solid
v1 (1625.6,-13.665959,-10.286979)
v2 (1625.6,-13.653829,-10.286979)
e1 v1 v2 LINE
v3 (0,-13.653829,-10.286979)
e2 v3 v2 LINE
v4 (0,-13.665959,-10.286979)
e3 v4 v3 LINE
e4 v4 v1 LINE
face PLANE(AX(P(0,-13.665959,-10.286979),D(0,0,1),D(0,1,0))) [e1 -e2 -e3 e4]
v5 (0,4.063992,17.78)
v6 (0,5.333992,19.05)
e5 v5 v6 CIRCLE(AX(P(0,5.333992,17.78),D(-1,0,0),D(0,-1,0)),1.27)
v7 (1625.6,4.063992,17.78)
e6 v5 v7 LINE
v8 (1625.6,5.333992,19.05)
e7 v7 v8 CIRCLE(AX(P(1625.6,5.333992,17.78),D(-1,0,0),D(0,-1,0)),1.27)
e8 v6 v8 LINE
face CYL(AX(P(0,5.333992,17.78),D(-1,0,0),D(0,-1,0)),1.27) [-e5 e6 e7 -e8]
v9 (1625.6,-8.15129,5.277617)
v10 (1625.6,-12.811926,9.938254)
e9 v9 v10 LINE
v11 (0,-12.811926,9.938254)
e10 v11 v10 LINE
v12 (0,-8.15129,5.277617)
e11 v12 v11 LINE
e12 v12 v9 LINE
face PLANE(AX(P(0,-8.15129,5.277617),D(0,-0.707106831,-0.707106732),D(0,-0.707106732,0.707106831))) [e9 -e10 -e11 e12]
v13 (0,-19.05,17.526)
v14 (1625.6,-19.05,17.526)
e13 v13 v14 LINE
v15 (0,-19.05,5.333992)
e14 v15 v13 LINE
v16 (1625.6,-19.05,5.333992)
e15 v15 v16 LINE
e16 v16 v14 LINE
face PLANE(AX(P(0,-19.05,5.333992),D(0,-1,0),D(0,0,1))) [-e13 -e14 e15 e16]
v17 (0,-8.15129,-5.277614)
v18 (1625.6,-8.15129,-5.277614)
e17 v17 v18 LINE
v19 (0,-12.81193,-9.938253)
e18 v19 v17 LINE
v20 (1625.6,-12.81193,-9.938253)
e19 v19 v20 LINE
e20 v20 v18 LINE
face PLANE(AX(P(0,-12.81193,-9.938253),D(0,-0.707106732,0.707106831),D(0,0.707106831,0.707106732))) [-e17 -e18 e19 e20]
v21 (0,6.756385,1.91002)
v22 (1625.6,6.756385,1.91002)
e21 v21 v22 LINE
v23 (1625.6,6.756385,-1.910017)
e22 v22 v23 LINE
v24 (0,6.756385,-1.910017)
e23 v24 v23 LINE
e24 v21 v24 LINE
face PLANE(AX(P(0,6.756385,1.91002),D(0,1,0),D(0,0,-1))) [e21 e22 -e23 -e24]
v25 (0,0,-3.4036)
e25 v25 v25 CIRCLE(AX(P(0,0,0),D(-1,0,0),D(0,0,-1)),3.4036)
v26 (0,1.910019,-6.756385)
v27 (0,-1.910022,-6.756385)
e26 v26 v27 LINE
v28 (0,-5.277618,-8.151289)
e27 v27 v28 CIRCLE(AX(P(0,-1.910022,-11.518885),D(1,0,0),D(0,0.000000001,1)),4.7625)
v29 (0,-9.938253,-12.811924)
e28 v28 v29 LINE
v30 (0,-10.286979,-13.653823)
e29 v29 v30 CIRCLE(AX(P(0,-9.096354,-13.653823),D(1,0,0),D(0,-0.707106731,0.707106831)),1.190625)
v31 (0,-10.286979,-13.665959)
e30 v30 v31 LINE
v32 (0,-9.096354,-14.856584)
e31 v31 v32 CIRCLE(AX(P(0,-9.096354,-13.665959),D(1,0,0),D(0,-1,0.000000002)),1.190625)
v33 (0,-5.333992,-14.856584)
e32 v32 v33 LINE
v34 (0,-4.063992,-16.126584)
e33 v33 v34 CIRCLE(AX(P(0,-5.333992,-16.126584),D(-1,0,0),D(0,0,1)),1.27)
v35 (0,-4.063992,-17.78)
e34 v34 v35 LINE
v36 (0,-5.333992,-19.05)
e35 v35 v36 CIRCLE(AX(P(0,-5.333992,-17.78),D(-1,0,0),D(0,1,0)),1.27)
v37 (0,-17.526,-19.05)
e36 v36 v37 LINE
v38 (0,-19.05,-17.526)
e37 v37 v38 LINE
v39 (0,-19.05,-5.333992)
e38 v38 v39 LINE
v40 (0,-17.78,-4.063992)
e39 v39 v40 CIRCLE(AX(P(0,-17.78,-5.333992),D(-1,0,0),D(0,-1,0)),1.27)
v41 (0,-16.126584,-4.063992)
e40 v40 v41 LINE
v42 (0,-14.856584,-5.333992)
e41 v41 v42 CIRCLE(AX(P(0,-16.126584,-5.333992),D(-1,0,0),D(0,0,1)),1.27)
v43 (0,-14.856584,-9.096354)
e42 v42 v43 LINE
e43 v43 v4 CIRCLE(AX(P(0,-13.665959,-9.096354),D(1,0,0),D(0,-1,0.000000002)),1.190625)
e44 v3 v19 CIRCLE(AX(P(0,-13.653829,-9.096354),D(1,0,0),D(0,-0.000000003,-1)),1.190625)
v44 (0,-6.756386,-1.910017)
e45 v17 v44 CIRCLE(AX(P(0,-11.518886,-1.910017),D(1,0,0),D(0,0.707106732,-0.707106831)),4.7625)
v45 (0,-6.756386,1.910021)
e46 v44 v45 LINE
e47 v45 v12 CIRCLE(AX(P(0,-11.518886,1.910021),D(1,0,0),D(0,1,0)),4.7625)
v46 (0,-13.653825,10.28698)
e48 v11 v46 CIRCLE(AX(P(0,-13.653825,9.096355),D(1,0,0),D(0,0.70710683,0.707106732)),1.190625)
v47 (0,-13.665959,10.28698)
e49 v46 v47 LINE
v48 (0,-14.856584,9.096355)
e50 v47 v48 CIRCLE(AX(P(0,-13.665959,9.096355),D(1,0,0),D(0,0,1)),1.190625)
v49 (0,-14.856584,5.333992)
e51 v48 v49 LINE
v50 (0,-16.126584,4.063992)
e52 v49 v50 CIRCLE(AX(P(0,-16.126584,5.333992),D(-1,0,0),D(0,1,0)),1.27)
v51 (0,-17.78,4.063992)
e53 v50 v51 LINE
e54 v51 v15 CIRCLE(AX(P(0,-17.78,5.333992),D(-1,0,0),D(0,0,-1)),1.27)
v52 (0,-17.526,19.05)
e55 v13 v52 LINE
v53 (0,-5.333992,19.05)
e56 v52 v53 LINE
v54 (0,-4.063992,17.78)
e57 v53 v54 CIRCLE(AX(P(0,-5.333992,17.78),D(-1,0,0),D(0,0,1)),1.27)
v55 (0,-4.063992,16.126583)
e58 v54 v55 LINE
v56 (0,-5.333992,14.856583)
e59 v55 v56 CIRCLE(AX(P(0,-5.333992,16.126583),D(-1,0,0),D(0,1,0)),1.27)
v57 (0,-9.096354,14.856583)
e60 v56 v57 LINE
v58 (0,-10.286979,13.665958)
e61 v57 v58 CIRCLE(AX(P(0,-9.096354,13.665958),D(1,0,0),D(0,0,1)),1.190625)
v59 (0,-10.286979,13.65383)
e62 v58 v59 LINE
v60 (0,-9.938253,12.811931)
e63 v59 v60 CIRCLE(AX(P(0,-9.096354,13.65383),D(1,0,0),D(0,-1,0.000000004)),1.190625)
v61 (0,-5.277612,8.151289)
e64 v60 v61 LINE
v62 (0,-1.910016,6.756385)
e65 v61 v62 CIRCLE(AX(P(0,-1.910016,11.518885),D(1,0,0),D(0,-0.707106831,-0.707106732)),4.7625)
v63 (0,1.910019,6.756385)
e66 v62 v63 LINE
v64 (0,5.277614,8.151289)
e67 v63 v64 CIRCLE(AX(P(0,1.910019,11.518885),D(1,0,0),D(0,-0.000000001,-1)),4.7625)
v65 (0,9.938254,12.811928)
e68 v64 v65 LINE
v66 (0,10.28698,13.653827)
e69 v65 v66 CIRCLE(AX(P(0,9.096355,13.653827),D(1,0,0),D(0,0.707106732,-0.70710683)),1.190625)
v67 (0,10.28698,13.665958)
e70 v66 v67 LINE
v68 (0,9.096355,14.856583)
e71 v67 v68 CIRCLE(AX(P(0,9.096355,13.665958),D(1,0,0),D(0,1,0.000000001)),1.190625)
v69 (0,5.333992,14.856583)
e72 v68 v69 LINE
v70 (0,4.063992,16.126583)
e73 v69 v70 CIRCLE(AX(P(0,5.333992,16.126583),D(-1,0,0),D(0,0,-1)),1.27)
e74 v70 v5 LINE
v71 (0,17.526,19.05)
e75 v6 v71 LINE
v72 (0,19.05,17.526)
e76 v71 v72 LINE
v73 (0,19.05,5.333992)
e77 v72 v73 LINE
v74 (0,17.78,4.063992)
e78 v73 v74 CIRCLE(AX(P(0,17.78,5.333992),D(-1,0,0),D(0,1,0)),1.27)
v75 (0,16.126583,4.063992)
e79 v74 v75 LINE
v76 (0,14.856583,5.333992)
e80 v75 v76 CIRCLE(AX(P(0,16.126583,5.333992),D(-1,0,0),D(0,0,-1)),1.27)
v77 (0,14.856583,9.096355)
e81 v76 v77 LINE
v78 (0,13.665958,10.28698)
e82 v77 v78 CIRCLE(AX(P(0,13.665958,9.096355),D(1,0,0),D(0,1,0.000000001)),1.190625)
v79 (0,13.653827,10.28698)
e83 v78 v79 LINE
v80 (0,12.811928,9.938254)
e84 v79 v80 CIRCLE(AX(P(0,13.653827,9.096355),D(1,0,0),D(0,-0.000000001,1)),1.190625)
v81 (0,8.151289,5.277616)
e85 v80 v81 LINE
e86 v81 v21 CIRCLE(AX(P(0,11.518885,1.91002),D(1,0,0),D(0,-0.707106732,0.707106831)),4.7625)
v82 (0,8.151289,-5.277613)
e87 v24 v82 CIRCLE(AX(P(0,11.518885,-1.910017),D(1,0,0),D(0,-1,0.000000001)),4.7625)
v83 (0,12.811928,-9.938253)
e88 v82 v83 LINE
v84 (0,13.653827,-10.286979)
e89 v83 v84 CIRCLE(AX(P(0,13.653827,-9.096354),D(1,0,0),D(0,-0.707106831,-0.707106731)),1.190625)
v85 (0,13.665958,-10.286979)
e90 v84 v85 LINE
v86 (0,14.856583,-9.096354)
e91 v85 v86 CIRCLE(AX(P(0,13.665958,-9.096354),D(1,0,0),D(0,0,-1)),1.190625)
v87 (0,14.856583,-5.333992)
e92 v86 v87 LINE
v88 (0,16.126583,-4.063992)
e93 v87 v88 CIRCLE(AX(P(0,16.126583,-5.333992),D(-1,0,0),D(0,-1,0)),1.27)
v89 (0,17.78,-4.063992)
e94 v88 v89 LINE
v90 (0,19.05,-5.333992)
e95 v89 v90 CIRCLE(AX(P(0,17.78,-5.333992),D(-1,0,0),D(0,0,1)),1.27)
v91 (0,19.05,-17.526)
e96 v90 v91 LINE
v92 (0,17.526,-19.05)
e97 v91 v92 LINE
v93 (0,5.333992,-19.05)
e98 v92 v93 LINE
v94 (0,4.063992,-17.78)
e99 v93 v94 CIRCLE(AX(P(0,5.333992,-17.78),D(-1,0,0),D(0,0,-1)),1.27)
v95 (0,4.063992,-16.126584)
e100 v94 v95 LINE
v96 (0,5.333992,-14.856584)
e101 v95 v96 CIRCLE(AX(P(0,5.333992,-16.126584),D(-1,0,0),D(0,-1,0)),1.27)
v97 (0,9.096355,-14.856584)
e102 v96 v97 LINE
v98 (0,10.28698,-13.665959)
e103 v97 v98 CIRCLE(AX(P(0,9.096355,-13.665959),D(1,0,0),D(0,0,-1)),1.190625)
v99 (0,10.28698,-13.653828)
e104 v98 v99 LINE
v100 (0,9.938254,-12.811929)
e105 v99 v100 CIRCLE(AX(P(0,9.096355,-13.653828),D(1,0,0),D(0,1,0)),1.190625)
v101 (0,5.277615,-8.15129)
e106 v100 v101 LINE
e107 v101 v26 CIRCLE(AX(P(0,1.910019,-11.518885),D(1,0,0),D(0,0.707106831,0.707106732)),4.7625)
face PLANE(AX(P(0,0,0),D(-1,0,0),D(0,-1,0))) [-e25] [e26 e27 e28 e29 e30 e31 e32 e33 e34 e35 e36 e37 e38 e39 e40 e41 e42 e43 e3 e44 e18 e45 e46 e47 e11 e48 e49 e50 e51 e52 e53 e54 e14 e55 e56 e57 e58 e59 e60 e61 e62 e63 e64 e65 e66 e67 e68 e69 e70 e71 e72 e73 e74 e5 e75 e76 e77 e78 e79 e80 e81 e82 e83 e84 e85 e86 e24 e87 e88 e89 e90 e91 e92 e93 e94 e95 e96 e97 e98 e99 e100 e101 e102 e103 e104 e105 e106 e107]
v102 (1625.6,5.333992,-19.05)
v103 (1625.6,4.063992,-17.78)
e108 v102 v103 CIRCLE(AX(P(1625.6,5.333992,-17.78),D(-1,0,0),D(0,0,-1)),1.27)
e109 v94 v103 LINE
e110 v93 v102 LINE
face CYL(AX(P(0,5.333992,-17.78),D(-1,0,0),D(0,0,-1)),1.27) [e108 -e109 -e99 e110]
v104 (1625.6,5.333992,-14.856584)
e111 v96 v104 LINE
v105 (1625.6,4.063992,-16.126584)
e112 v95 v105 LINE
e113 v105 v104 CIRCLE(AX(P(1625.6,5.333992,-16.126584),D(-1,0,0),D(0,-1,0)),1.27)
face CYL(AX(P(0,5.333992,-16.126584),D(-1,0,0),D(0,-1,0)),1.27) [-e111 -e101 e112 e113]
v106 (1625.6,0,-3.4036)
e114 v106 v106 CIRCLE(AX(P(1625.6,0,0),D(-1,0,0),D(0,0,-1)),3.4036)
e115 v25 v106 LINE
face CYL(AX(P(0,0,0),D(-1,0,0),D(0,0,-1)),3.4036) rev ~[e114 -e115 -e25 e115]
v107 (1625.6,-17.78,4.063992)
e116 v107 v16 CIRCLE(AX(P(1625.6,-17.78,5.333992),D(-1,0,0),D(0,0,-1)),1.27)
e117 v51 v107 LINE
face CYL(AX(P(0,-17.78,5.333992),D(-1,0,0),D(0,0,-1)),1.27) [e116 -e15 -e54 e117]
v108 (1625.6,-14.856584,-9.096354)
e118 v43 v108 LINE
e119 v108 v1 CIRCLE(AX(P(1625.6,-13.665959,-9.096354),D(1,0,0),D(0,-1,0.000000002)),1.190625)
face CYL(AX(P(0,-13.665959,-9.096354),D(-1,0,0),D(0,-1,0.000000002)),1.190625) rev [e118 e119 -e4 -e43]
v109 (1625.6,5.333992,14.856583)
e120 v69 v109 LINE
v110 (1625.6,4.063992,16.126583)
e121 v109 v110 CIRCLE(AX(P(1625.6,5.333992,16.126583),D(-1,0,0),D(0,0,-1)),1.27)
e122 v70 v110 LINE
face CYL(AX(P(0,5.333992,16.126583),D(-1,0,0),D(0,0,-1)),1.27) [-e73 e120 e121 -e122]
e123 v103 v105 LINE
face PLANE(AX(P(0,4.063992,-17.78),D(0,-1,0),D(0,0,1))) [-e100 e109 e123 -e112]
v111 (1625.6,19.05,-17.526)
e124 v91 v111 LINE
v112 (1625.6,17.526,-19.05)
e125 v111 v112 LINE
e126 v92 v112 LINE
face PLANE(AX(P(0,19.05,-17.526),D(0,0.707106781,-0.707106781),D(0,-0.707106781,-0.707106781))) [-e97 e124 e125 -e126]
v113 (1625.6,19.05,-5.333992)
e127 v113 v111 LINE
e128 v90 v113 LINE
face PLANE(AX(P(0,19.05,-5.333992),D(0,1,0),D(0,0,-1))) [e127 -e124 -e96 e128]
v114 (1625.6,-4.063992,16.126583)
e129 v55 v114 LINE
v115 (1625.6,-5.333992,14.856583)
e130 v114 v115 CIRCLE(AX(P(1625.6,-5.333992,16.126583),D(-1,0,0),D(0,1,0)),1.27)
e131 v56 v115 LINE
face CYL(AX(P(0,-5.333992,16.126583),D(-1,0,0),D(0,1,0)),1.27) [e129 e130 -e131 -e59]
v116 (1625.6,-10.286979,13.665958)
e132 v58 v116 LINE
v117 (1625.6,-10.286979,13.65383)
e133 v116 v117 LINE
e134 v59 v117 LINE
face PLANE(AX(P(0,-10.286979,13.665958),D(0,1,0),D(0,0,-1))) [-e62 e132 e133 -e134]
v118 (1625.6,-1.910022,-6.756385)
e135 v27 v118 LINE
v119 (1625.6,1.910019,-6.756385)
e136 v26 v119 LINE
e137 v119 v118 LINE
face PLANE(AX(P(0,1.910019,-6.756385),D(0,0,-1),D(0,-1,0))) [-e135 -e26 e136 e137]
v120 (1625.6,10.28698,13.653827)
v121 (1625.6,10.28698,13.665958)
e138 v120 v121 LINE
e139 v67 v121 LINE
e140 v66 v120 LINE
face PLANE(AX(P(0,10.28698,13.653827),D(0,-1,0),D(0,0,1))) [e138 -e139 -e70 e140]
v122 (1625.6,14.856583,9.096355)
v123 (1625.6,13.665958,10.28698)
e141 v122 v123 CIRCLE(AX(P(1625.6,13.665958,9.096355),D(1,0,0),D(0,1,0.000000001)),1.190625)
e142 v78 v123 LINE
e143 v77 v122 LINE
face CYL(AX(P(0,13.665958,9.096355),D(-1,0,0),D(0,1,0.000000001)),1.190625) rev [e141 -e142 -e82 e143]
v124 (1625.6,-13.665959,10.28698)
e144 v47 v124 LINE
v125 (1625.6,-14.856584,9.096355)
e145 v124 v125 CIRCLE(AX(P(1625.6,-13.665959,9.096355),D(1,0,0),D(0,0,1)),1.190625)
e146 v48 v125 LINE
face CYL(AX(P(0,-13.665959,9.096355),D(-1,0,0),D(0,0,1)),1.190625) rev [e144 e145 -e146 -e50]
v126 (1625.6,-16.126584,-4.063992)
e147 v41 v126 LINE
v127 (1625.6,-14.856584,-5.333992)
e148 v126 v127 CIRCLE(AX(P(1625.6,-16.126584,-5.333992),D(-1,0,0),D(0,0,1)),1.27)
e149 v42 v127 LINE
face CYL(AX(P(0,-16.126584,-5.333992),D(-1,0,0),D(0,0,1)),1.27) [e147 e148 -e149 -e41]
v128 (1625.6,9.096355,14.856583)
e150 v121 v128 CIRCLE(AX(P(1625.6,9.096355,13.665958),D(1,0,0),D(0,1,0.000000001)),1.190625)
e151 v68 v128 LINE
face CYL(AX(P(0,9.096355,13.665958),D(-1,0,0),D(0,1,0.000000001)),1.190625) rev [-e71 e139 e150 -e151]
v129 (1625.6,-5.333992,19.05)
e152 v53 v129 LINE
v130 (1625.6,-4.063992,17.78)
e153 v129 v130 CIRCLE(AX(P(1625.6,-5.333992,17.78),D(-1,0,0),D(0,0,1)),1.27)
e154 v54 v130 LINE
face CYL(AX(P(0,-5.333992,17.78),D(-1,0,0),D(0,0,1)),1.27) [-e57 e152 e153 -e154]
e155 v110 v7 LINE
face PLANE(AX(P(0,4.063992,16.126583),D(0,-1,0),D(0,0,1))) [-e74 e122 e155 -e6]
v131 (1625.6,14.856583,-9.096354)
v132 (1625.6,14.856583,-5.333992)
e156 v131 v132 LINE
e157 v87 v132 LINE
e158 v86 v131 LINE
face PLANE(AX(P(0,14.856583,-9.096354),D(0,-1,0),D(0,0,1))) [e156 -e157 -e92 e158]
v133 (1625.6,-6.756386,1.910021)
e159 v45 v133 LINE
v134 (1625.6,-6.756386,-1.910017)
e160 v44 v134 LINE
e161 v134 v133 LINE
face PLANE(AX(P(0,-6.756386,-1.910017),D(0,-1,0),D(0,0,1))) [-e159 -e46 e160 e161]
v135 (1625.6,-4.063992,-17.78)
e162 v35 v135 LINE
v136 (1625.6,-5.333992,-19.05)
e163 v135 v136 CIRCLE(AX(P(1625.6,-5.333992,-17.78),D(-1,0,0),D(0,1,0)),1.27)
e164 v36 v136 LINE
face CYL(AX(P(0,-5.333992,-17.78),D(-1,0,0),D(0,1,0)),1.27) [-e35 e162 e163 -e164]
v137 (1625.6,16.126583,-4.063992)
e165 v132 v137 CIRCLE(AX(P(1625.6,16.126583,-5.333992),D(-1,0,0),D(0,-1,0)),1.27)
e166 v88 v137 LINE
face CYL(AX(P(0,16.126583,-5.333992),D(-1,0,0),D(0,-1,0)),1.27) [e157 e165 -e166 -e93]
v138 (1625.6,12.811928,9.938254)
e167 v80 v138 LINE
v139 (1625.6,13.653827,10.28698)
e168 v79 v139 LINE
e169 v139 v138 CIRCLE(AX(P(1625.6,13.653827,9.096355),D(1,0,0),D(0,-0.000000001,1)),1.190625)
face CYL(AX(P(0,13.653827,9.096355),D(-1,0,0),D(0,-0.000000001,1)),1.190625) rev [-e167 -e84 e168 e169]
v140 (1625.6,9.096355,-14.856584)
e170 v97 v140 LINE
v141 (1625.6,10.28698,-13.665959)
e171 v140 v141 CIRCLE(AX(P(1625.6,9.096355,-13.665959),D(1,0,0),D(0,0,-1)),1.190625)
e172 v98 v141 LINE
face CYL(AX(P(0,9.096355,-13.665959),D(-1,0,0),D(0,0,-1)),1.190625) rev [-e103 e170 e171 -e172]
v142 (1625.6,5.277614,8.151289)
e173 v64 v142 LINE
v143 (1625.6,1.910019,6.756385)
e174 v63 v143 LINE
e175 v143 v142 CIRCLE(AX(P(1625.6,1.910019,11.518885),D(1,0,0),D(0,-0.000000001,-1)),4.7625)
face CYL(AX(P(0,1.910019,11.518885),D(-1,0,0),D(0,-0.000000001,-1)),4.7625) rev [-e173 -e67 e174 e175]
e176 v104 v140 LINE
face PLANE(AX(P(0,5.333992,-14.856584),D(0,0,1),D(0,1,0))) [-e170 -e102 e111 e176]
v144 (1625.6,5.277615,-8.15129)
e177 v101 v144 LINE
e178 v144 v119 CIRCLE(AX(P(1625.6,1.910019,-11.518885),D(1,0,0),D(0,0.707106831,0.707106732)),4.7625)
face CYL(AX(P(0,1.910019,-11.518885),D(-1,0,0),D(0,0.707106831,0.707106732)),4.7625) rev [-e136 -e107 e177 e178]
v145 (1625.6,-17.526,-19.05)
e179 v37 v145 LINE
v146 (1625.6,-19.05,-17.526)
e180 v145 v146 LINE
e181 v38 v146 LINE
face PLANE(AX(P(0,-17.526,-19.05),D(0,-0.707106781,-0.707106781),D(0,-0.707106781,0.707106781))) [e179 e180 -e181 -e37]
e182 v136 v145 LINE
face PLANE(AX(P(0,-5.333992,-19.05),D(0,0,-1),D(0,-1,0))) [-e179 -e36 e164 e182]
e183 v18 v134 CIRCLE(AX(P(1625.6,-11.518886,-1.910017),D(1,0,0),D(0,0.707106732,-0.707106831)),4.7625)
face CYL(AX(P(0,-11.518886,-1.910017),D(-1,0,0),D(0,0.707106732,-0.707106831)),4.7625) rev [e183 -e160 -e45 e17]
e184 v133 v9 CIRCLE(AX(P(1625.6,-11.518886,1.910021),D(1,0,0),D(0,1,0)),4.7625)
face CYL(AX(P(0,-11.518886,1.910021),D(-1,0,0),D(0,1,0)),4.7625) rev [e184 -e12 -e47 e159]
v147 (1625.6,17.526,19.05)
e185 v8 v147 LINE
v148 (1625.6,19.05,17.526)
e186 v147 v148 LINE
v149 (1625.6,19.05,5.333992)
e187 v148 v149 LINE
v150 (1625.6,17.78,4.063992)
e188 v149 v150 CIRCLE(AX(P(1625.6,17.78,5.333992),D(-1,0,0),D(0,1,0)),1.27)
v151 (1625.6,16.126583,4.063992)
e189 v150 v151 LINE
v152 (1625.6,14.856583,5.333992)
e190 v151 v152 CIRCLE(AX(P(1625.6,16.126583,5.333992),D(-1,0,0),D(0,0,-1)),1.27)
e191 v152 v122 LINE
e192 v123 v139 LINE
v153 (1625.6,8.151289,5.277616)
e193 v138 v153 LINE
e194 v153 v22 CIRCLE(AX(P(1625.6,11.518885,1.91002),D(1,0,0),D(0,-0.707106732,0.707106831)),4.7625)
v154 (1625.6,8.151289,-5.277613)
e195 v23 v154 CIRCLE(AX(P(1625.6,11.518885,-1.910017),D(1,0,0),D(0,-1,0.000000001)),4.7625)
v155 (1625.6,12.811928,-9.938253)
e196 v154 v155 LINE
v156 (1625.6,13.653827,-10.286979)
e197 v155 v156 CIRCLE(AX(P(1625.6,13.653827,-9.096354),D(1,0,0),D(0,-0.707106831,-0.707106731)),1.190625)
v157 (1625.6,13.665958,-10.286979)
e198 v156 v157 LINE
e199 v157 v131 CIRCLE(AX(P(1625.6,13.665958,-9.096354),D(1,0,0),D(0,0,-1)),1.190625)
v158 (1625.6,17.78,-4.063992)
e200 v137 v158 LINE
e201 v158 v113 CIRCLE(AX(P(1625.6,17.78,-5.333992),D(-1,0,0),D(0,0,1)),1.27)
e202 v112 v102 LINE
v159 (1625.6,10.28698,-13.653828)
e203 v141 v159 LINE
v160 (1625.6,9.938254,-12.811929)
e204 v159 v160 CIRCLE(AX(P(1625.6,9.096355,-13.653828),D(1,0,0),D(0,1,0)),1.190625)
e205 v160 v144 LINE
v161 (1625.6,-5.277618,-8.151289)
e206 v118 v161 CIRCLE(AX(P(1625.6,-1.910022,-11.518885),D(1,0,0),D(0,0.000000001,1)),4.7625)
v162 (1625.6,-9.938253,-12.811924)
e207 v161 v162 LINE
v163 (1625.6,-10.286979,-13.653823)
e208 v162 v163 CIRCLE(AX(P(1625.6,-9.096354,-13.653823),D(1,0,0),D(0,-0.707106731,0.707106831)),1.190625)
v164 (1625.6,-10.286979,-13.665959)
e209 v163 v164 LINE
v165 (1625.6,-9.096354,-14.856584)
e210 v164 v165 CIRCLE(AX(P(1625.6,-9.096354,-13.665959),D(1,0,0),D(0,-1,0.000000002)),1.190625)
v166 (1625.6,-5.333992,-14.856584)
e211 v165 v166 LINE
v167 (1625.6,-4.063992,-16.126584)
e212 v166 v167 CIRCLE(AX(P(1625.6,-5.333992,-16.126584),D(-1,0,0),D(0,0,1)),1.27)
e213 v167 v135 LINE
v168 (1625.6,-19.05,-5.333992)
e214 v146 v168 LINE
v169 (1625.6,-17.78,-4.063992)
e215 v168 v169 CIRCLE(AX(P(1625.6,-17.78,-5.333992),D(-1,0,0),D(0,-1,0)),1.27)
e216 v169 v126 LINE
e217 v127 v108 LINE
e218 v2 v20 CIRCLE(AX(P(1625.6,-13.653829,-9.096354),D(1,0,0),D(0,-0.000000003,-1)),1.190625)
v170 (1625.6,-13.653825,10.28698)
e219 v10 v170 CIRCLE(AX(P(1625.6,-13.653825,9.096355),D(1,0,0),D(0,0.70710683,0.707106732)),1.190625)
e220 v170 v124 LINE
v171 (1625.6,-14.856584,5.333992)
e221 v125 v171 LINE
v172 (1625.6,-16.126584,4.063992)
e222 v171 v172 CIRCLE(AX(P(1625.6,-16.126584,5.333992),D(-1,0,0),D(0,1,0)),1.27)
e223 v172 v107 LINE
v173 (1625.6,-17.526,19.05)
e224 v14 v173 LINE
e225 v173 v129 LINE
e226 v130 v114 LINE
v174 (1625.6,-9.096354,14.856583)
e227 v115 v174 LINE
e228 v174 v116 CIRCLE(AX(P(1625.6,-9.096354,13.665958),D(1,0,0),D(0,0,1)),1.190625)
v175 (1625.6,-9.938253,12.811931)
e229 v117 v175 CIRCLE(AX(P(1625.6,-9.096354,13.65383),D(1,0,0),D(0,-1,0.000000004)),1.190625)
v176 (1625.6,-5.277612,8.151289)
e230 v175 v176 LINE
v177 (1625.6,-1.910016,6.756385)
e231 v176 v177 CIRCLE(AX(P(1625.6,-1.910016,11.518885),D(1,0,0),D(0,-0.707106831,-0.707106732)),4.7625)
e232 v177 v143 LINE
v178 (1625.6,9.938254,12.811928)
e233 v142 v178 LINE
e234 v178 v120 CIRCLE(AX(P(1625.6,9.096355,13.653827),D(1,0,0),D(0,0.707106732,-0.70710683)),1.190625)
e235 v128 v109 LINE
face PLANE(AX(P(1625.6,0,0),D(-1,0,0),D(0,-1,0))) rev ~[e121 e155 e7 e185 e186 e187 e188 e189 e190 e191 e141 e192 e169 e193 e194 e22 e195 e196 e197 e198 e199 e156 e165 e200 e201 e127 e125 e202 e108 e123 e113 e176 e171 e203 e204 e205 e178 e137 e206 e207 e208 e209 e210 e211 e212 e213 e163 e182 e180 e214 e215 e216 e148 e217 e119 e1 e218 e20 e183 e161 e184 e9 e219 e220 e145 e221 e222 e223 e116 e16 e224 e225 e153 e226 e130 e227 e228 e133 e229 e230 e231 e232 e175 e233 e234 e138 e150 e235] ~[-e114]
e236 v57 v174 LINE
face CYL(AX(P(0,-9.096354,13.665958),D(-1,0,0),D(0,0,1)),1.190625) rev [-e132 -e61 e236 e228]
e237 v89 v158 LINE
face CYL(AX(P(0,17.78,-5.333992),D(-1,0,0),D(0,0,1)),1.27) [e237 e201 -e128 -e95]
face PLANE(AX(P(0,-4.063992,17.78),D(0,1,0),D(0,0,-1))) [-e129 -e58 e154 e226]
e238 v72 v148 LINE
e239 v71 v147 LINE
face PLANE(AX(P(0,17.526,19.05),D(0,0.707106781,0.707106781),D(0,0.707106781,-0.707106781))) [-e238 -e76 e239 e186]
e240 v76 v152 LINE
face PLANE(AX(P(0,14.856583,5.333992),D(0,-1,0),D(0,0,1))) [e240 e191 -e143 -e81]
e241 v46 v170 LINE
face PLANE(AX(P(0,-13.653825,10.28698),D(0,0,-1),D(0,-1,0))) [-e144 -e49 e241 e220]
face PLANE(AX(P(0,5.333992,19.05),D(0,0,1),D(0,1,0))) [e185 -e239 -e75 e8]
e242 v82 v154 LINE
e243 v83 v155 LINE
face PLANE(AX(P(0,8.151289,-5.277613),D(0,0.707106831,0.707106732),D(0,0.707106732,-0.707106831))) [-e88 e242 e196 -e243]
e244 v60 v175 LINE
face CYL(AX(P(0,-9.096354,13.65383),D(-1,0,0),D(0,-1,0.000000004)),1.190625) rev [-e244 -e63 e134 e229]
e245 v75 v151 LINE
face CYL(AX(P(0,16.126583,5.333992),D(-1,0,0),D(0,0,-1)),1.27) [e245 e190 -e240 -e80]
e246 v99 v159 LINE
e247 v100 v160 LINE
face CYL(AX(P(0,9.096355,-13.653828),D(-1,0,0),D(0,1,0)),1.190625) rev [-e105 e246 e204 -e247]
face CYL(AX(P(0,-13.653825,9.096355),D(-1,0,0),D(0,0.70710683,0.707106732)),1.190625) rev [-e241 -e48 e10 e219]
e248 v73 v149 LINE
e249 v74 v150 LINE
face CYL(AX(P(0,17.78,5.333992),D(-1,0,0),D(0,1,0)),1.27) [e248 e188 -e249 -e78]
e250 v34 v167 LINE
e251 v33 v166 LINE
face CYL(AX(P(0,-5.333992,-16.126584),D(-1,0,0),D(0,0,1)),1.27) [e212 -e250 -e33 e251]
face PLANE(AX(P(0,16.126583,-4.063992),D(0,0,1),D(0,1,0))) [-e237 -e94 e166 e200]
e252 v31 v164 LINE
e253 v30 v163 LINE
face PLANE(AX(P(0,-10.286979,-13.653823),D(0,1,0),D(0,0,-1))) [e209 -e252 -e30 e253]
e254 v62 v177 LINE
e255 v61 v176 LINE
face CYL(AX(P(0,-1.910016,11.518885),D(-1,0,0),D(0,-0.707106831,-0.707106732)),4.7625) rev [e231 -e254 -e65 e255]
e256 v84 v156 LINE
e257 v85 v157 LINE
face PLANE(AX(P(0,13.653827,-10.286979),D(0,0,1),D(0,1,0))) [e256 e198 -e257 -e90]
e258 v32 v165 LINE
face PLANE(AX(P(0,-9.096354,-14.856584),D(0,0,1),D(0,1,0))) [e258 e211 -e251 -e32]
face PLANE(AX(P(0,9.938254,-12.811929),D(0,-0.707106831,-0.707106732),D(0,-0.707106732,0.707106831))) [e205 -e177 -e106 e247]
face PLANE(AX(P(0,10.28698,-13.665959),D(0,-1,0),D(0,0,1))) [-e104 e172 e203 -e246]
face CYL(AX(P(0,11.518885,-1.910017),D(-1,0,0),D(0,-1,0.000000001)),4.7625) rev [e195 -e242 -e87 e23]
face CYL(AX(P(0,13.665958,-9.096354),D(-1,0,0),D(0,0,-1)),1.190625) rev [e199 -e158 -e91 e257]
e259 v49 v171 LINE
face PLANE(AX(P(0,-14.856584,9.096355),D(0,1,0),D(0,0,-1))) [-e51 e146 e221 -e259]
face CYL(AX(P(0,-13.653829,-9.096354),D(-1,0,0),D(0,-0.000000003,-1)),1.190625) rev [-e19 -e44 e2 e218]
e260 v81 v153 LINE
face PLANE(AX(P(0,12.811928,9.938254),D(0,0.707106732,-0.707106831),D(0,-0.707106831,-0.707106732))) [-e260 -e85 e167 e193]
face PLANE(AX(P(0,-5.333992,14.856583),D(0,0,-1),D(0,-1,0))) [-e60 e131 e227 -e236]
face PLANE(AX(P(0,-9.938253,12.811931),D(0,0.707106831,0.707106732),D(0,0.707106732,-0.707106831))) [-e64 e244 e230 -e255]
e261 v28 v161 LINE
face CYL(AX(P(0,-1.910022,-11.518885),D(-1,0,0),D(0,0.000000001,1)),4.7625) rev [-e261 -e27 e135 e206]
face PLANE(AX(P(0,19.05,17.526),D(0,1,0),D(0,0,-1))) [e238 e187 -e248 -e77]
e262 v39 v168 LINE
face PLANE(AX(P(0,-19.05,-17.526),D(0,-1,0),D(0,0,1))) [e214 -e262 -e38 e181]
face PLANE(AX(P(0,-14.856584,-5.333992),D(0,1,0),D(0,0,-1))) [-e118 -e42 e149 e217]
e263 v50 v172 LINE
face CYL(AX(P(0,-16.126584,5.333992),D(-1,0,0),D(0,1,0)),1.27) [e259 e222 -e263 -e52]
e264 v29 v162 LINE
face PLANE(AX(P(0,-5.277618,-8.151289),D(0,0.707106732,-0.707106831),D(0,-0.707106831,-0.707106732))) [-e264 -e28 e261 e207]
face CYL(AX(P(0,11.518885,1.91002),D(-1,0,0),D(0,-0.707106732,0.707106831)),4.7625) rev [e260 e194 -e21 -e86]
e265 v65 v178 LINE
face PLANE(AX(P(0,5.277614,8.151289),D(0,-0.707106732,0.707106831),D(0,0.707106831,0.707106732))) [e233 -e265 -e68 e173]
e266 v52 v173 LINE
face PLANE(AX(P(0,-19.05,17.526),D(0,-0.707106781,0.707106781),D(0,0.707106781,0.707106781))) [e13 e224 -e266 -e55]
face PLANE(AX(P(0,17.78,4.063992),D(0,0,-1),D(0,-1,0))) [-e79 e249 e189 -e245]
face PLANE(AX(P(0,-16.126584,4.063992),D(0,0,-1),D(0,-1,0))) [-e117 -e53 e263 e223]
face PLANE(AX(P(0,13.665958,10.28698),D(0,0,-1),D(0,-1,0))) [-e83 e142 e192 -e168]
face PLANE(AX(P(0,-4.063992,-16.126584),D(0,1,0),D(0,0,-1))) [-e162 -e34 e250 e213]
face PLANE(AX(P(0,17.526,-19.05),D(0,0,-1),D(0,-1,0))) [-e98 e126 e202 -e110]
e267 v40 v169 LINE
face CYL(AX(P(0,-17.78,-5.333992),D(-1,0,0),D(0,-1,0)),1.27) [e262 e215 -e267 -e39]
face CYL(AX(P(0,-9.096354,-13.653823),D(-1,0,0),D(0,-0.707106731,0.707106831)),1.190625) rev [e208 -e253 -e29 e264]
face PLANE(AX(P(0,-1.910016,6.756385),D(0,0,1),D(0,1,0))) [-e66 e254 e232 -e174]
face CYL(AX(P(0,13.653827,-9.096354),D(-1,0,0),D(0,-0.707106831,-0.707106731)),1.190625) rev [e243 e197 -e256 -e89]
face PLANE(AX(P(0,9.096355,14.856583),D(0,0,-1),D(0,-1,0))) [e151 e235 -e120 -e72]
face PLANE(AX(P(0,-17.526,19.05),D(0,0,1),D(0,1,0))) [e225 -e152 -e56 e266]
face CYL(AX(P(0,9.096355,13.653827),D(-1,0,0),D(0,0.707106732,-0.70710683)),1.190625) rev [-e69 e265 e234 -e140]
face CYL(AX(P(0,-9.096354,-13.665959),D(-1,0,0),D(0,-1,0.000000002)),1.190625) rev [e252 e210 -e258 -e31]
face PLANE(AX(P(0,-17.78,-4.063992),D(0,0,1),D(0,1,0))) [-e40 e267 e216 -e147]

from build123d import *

# Parameters (mm, degrees)
SKETCH1_R           = 3.4036
BOSS_EXTRUDE1_DEPTH = 1625.6


with BuildPart() as part:
    # Sketch1 → Boss-Extrude1 (new body)
    with BuildSketch(Plane(origin=(0, 0, 0), x_dir=(0, -1, 0), z_dir=(-1, 0, 0))):
        with BuildLine():
            Line((19.05, 5.333992226), (19.05, 17.526))
            Line((19.05, 17.526), (17.526, 19.05))
            Line((17.526, 19.05), (5.333991729, 19.05))
            ThreePointArc((5.333991729, 19.05), (4.435966117, 18.678025612), (4.063991729, 17.78))
            Line((4.063991729, 17.78), (4.063991729, 16.12658277))
            ThreePointArc((4.063991729, 16.12658277), (4.435966117, 15.228557158), (5.333991729, 14.85658277))
            Line((5.333991729, 14.85658277), (9.096353874, 14.85658277))
            ThreePointArc((9.096353874, 14.85658277), (9.938252886, 14.507856781), (10.286978874, 13.66595777))
            Line((10.286978874, 13.66595777), (10.286978874, 13.653830065))
            ThreePointArc((10.286978874, 13.653830065), (10.196347959, 13.198197641), (9.938252944, 12.811931112))
            Line((9.938252944, 12.811931112), (5.277611896, 8.151289413))
            ThreePointArc((5.277611896, 8.151289413), (3.732545616, 7.118909013), (1.910015615, 6.756385223))
            Line((1.910015615, 6.756385223), (-1.910018596, 6.756385223))
            ThreePointArc((-1.910018596, 6.756385223), (-3.732548289, 7.118908885), (-5.277614406, 8.151288942))
            Line((-5.277614406, 8.151288942), (-9.93825393, 12.811927815))
            ThreePointArc((-9.93825393, 12.811927815), (-10.19634903, 13.198194385), (-10.286979978, 13.653826886))
            Line((-10.286979978, 13.653826886), (-10.286979978, 13.66595777))
            ThreePointArc((-10.286979978, 13.66595777), (-9.938253989, 14.507856781), (-9.096354978, 14.85658277))
            Line((-9.096354978, 14.85658277), (-5.333992226, 14.85658277))
            ThreePointArc((-5.333992226, 14.85658277), (-4.435966614, 15.228557158), (-4.063992226, 16.12658277))
            Line((-4.063992226, 16.12658277), (-4.063992226, 17.78))
            ThreePointArc((-4.063992226, 17.78), (-4.435966614, 18.678025612), (-5.333992226, 19.05))
            Line((-5.333992226, 19.05), (-17.526, 19.05))
            Line((-17.526, 19.05), (-19.05, 17.526))
            Line((-19.05, 17.526), (-19.05, 5.333992226))
            ThreePointArc((-19.05, 5.333992226), (-18.678025612, 4.435966614), (-17.78, 4.063992226))
            Line((-17.78, 4.063992226), (-16.12658277, 4.063992226))
            ThreePointArc((-16.12658277, 4.063992226), (-15.228557158, 4.435966614), (-14.85658277, 5.333992226))
            Line((-14.85658277, 5.333992226), (-14.85658277, 9.096354978))
            ThreePointArc((-14.85658277, 9.096354978), (-14.507856781, 9.938253989), (-13.66595777, 10.286979978))
            Line((-13.66595777, 10.286979978), (-13.653827218, 10.286979978))
            ThreePointArc((-13.653827218, 10.286979978), (-13.198194795, 10.196349062), (-12.811928266, 9.938254048))
            Line((-12.811928266, 9.938254048), (-8.151289413, 5.277615846))
            ThreePointArc((-8.151289413, 5.277615846), (-7.118909013, 3.732549566), (-6.756385223, 1.910019566))
            Line((-6.756385223, 1.910019566), (-6.756385223, -1.910017492))
            ThreePointArc((-6.756385223, -1.910017492), (-7.118908885, -3.732547185), (-8.151288942, -5.277613302))
            Line((-8.151288942, -5.277613302), (-12.811927815, -9.938252827))
            ThreePointArc((-12.811927815, -9.938252827), (-13.198194385, -10.196347927), (-13.653826886, -10.286978874))
            Line((-13.653826886, -10.286978874), (-13.66595777, -10.286978874))
            ThreePointArc((-13.66595777, -10.286978874), (-14.507856781, -9.938252886), (-14.85658277, -9.096353874))
            Line((-14.85658277, -9.096353874), (-14.85658277, -5.333991729))
            ThreePointArc((-14.85658277, -5.333991729), (-15.228557158, -4.435966117), (-16.12658277, -4.063991729))
            Line((-16.12658277, -4.063991729), (-17.78, -4.063991729))
            ThreePointArc((-17.78, -4.063991729), (-18.678025612, -4.435966117), (-19.05, -5.333991729))
            Line((-19.05, -5.333991729), (-19.05, -17.526))
            Line((-19.05, -17.526), (-17.526, -19.05))
            Line((-17.526, -19.05), (-5.333992226, -19.05))
            ThreePointArc((-5.333992226, -19.05), (-4.435966614, -18.678025612), (-4.063992226, -17.78))
            Line((-4.063992226, -17.78), (-4.063992226, -16.126583724))
            ThreePointArc((-4.063992226, -16.126583724), (-4.435966614, -15.228558112), (-5.333992226, -14.856583724))
            Line((-5.333992226, -14.856583724), (-9.096354978, -14.856583724))
            ThreePointArc((-9.096354978, -14.856583724), (-9.938253989, -14.507857736), (-10.286979978, -13.665958724))
            Line((-10.286979978, -13.665958724), (-10.286979978, -13.653828173))
            ThreePointArc((-10.286979978, -13.653828173), (-10.196349062, -13.198195749), (-9.938254048, -12.81192922))
            Line((-9.938254048, -12.81192922), (-5.277615159, -8.15128968))
            ThreePointArc((-5.277615159, -8.15128968), (-3.732548878, -7.11890928), (-1.910018878, -6.75638549))
            Line((-1.910018878, -6.75638549), (1.910021709, -6.75638549))
            ThreePointArc((1.910021709, -6.75638549), (3.732551402, -7.118909152), (5.277617519, -8.151289209))
            Line((5.277617519, -8.151289209), (9.938252827, -12.811923865))
            ThreePointArc((9.938252827, -12.811923865), (10.196347927, -13.198190435), (10.286978874, -13.653822935))
            Line((10.286978874, -13.653822935), (10.286978874, -13.665958724))
            ThreePointArc((10.286978874, -13.665958724), (9.938252886, -14.507857736), (9.096353874, -14.856583724))
            Line((9.096353874, -14.856583724), (5.333991729, -14.856583724))
            ThreePointArc((5.333991729, -14.856583724), (4.435966117, -15.228558112), (4.063991729, -16.126583724))
            Line((4.063991729, -16.126583724), (4.063991729, -17.78))
            ThreePointArc((4.063991729, -17.78), (4.435966117, -18.678025612), (5.333991729, -19.05))
            Line((5.333991729, -19.05), (17.526, -19.05))
            Line((17.526, -19.05), (19.05, -17.526))
            Line((19.05, -17.526), (19.05, -5.333991729))
            ThreePointArc((19.05, -5.333991729), (18.678025612, -4.435966117), (17.78, -4.063991729))
            Line((17.78, -4.063991729), (16.126583724, -4.063991729))
            ThreePointArc((16.126583724, -4.063991729), (15.228558112, -4.435966117), (14.856583724, -5.333991729))
            Line((14.856583724, -5.333991729), (14.856583724, -9.096353874))
            ThreePointArc((14.856583724, -9.096353874), (14.507857736, -9.938252886), (13.665958724, -10.286978874))
            Line((13.665958724, -10.286978874), (13.653828961, -10.286978874))
            ThreePointArc((13.653828961, -10.286978874), (13.198196538, -10.196347959), (12.811930009, -9.938252944))
            Line((12.811930009, -9.938252944), (8.151290074, -5.277613661))
            ThreePointArc((8.151290074, -5.277613661), (7.118909674, -3.732547381), (6.756385884, -1.91001738))
            Line((6.756385884, -1.91001738), (6.756385884, 1.910021149))
            ThreePointArc((6.756385884, 1.910021149), (7.118909547, 3.732550842), (8.151289603, 5.277616959))
            Line((8.151289603, 5.277616959), (12.811925923, 9.93825393))
            ThreePointArc((12.811925923, 9.93825393), (13.198192493, 10.19634903), (13.653824993, 10.286979978))
            Line((13.653824993, 10.286979978), (13.665958724, 10.286979978))
            ThreePointArc((13.665958724, 10.286979978), (14.507857736, 9.938253989), (14.856583724, 9.096354978))
            Line((14.856583724, 9.096354978), (14.856583724, 5.333992226))
            ThreePointArc((14.856583724, 5.333992226), (15.228558112, 4.435966614), (16.126583724, 4.063992226))
            Line((16.126583724, 4.063992226), (17.78, 4.063992226))
            ThreePointArc((17.78, 4.063992226), (18.678025612, 4.435966614), (19.05, 5.333992226))
        make_face()
        with Locations(Location((0, 0, 0), (0, 0, 270))):
            Circle(SKETCH1_R, mode=Mode.SUBTRACT)
    extrude(amount=-BOSS_EXTRUDE1_DEPTH)


solid = part.part
